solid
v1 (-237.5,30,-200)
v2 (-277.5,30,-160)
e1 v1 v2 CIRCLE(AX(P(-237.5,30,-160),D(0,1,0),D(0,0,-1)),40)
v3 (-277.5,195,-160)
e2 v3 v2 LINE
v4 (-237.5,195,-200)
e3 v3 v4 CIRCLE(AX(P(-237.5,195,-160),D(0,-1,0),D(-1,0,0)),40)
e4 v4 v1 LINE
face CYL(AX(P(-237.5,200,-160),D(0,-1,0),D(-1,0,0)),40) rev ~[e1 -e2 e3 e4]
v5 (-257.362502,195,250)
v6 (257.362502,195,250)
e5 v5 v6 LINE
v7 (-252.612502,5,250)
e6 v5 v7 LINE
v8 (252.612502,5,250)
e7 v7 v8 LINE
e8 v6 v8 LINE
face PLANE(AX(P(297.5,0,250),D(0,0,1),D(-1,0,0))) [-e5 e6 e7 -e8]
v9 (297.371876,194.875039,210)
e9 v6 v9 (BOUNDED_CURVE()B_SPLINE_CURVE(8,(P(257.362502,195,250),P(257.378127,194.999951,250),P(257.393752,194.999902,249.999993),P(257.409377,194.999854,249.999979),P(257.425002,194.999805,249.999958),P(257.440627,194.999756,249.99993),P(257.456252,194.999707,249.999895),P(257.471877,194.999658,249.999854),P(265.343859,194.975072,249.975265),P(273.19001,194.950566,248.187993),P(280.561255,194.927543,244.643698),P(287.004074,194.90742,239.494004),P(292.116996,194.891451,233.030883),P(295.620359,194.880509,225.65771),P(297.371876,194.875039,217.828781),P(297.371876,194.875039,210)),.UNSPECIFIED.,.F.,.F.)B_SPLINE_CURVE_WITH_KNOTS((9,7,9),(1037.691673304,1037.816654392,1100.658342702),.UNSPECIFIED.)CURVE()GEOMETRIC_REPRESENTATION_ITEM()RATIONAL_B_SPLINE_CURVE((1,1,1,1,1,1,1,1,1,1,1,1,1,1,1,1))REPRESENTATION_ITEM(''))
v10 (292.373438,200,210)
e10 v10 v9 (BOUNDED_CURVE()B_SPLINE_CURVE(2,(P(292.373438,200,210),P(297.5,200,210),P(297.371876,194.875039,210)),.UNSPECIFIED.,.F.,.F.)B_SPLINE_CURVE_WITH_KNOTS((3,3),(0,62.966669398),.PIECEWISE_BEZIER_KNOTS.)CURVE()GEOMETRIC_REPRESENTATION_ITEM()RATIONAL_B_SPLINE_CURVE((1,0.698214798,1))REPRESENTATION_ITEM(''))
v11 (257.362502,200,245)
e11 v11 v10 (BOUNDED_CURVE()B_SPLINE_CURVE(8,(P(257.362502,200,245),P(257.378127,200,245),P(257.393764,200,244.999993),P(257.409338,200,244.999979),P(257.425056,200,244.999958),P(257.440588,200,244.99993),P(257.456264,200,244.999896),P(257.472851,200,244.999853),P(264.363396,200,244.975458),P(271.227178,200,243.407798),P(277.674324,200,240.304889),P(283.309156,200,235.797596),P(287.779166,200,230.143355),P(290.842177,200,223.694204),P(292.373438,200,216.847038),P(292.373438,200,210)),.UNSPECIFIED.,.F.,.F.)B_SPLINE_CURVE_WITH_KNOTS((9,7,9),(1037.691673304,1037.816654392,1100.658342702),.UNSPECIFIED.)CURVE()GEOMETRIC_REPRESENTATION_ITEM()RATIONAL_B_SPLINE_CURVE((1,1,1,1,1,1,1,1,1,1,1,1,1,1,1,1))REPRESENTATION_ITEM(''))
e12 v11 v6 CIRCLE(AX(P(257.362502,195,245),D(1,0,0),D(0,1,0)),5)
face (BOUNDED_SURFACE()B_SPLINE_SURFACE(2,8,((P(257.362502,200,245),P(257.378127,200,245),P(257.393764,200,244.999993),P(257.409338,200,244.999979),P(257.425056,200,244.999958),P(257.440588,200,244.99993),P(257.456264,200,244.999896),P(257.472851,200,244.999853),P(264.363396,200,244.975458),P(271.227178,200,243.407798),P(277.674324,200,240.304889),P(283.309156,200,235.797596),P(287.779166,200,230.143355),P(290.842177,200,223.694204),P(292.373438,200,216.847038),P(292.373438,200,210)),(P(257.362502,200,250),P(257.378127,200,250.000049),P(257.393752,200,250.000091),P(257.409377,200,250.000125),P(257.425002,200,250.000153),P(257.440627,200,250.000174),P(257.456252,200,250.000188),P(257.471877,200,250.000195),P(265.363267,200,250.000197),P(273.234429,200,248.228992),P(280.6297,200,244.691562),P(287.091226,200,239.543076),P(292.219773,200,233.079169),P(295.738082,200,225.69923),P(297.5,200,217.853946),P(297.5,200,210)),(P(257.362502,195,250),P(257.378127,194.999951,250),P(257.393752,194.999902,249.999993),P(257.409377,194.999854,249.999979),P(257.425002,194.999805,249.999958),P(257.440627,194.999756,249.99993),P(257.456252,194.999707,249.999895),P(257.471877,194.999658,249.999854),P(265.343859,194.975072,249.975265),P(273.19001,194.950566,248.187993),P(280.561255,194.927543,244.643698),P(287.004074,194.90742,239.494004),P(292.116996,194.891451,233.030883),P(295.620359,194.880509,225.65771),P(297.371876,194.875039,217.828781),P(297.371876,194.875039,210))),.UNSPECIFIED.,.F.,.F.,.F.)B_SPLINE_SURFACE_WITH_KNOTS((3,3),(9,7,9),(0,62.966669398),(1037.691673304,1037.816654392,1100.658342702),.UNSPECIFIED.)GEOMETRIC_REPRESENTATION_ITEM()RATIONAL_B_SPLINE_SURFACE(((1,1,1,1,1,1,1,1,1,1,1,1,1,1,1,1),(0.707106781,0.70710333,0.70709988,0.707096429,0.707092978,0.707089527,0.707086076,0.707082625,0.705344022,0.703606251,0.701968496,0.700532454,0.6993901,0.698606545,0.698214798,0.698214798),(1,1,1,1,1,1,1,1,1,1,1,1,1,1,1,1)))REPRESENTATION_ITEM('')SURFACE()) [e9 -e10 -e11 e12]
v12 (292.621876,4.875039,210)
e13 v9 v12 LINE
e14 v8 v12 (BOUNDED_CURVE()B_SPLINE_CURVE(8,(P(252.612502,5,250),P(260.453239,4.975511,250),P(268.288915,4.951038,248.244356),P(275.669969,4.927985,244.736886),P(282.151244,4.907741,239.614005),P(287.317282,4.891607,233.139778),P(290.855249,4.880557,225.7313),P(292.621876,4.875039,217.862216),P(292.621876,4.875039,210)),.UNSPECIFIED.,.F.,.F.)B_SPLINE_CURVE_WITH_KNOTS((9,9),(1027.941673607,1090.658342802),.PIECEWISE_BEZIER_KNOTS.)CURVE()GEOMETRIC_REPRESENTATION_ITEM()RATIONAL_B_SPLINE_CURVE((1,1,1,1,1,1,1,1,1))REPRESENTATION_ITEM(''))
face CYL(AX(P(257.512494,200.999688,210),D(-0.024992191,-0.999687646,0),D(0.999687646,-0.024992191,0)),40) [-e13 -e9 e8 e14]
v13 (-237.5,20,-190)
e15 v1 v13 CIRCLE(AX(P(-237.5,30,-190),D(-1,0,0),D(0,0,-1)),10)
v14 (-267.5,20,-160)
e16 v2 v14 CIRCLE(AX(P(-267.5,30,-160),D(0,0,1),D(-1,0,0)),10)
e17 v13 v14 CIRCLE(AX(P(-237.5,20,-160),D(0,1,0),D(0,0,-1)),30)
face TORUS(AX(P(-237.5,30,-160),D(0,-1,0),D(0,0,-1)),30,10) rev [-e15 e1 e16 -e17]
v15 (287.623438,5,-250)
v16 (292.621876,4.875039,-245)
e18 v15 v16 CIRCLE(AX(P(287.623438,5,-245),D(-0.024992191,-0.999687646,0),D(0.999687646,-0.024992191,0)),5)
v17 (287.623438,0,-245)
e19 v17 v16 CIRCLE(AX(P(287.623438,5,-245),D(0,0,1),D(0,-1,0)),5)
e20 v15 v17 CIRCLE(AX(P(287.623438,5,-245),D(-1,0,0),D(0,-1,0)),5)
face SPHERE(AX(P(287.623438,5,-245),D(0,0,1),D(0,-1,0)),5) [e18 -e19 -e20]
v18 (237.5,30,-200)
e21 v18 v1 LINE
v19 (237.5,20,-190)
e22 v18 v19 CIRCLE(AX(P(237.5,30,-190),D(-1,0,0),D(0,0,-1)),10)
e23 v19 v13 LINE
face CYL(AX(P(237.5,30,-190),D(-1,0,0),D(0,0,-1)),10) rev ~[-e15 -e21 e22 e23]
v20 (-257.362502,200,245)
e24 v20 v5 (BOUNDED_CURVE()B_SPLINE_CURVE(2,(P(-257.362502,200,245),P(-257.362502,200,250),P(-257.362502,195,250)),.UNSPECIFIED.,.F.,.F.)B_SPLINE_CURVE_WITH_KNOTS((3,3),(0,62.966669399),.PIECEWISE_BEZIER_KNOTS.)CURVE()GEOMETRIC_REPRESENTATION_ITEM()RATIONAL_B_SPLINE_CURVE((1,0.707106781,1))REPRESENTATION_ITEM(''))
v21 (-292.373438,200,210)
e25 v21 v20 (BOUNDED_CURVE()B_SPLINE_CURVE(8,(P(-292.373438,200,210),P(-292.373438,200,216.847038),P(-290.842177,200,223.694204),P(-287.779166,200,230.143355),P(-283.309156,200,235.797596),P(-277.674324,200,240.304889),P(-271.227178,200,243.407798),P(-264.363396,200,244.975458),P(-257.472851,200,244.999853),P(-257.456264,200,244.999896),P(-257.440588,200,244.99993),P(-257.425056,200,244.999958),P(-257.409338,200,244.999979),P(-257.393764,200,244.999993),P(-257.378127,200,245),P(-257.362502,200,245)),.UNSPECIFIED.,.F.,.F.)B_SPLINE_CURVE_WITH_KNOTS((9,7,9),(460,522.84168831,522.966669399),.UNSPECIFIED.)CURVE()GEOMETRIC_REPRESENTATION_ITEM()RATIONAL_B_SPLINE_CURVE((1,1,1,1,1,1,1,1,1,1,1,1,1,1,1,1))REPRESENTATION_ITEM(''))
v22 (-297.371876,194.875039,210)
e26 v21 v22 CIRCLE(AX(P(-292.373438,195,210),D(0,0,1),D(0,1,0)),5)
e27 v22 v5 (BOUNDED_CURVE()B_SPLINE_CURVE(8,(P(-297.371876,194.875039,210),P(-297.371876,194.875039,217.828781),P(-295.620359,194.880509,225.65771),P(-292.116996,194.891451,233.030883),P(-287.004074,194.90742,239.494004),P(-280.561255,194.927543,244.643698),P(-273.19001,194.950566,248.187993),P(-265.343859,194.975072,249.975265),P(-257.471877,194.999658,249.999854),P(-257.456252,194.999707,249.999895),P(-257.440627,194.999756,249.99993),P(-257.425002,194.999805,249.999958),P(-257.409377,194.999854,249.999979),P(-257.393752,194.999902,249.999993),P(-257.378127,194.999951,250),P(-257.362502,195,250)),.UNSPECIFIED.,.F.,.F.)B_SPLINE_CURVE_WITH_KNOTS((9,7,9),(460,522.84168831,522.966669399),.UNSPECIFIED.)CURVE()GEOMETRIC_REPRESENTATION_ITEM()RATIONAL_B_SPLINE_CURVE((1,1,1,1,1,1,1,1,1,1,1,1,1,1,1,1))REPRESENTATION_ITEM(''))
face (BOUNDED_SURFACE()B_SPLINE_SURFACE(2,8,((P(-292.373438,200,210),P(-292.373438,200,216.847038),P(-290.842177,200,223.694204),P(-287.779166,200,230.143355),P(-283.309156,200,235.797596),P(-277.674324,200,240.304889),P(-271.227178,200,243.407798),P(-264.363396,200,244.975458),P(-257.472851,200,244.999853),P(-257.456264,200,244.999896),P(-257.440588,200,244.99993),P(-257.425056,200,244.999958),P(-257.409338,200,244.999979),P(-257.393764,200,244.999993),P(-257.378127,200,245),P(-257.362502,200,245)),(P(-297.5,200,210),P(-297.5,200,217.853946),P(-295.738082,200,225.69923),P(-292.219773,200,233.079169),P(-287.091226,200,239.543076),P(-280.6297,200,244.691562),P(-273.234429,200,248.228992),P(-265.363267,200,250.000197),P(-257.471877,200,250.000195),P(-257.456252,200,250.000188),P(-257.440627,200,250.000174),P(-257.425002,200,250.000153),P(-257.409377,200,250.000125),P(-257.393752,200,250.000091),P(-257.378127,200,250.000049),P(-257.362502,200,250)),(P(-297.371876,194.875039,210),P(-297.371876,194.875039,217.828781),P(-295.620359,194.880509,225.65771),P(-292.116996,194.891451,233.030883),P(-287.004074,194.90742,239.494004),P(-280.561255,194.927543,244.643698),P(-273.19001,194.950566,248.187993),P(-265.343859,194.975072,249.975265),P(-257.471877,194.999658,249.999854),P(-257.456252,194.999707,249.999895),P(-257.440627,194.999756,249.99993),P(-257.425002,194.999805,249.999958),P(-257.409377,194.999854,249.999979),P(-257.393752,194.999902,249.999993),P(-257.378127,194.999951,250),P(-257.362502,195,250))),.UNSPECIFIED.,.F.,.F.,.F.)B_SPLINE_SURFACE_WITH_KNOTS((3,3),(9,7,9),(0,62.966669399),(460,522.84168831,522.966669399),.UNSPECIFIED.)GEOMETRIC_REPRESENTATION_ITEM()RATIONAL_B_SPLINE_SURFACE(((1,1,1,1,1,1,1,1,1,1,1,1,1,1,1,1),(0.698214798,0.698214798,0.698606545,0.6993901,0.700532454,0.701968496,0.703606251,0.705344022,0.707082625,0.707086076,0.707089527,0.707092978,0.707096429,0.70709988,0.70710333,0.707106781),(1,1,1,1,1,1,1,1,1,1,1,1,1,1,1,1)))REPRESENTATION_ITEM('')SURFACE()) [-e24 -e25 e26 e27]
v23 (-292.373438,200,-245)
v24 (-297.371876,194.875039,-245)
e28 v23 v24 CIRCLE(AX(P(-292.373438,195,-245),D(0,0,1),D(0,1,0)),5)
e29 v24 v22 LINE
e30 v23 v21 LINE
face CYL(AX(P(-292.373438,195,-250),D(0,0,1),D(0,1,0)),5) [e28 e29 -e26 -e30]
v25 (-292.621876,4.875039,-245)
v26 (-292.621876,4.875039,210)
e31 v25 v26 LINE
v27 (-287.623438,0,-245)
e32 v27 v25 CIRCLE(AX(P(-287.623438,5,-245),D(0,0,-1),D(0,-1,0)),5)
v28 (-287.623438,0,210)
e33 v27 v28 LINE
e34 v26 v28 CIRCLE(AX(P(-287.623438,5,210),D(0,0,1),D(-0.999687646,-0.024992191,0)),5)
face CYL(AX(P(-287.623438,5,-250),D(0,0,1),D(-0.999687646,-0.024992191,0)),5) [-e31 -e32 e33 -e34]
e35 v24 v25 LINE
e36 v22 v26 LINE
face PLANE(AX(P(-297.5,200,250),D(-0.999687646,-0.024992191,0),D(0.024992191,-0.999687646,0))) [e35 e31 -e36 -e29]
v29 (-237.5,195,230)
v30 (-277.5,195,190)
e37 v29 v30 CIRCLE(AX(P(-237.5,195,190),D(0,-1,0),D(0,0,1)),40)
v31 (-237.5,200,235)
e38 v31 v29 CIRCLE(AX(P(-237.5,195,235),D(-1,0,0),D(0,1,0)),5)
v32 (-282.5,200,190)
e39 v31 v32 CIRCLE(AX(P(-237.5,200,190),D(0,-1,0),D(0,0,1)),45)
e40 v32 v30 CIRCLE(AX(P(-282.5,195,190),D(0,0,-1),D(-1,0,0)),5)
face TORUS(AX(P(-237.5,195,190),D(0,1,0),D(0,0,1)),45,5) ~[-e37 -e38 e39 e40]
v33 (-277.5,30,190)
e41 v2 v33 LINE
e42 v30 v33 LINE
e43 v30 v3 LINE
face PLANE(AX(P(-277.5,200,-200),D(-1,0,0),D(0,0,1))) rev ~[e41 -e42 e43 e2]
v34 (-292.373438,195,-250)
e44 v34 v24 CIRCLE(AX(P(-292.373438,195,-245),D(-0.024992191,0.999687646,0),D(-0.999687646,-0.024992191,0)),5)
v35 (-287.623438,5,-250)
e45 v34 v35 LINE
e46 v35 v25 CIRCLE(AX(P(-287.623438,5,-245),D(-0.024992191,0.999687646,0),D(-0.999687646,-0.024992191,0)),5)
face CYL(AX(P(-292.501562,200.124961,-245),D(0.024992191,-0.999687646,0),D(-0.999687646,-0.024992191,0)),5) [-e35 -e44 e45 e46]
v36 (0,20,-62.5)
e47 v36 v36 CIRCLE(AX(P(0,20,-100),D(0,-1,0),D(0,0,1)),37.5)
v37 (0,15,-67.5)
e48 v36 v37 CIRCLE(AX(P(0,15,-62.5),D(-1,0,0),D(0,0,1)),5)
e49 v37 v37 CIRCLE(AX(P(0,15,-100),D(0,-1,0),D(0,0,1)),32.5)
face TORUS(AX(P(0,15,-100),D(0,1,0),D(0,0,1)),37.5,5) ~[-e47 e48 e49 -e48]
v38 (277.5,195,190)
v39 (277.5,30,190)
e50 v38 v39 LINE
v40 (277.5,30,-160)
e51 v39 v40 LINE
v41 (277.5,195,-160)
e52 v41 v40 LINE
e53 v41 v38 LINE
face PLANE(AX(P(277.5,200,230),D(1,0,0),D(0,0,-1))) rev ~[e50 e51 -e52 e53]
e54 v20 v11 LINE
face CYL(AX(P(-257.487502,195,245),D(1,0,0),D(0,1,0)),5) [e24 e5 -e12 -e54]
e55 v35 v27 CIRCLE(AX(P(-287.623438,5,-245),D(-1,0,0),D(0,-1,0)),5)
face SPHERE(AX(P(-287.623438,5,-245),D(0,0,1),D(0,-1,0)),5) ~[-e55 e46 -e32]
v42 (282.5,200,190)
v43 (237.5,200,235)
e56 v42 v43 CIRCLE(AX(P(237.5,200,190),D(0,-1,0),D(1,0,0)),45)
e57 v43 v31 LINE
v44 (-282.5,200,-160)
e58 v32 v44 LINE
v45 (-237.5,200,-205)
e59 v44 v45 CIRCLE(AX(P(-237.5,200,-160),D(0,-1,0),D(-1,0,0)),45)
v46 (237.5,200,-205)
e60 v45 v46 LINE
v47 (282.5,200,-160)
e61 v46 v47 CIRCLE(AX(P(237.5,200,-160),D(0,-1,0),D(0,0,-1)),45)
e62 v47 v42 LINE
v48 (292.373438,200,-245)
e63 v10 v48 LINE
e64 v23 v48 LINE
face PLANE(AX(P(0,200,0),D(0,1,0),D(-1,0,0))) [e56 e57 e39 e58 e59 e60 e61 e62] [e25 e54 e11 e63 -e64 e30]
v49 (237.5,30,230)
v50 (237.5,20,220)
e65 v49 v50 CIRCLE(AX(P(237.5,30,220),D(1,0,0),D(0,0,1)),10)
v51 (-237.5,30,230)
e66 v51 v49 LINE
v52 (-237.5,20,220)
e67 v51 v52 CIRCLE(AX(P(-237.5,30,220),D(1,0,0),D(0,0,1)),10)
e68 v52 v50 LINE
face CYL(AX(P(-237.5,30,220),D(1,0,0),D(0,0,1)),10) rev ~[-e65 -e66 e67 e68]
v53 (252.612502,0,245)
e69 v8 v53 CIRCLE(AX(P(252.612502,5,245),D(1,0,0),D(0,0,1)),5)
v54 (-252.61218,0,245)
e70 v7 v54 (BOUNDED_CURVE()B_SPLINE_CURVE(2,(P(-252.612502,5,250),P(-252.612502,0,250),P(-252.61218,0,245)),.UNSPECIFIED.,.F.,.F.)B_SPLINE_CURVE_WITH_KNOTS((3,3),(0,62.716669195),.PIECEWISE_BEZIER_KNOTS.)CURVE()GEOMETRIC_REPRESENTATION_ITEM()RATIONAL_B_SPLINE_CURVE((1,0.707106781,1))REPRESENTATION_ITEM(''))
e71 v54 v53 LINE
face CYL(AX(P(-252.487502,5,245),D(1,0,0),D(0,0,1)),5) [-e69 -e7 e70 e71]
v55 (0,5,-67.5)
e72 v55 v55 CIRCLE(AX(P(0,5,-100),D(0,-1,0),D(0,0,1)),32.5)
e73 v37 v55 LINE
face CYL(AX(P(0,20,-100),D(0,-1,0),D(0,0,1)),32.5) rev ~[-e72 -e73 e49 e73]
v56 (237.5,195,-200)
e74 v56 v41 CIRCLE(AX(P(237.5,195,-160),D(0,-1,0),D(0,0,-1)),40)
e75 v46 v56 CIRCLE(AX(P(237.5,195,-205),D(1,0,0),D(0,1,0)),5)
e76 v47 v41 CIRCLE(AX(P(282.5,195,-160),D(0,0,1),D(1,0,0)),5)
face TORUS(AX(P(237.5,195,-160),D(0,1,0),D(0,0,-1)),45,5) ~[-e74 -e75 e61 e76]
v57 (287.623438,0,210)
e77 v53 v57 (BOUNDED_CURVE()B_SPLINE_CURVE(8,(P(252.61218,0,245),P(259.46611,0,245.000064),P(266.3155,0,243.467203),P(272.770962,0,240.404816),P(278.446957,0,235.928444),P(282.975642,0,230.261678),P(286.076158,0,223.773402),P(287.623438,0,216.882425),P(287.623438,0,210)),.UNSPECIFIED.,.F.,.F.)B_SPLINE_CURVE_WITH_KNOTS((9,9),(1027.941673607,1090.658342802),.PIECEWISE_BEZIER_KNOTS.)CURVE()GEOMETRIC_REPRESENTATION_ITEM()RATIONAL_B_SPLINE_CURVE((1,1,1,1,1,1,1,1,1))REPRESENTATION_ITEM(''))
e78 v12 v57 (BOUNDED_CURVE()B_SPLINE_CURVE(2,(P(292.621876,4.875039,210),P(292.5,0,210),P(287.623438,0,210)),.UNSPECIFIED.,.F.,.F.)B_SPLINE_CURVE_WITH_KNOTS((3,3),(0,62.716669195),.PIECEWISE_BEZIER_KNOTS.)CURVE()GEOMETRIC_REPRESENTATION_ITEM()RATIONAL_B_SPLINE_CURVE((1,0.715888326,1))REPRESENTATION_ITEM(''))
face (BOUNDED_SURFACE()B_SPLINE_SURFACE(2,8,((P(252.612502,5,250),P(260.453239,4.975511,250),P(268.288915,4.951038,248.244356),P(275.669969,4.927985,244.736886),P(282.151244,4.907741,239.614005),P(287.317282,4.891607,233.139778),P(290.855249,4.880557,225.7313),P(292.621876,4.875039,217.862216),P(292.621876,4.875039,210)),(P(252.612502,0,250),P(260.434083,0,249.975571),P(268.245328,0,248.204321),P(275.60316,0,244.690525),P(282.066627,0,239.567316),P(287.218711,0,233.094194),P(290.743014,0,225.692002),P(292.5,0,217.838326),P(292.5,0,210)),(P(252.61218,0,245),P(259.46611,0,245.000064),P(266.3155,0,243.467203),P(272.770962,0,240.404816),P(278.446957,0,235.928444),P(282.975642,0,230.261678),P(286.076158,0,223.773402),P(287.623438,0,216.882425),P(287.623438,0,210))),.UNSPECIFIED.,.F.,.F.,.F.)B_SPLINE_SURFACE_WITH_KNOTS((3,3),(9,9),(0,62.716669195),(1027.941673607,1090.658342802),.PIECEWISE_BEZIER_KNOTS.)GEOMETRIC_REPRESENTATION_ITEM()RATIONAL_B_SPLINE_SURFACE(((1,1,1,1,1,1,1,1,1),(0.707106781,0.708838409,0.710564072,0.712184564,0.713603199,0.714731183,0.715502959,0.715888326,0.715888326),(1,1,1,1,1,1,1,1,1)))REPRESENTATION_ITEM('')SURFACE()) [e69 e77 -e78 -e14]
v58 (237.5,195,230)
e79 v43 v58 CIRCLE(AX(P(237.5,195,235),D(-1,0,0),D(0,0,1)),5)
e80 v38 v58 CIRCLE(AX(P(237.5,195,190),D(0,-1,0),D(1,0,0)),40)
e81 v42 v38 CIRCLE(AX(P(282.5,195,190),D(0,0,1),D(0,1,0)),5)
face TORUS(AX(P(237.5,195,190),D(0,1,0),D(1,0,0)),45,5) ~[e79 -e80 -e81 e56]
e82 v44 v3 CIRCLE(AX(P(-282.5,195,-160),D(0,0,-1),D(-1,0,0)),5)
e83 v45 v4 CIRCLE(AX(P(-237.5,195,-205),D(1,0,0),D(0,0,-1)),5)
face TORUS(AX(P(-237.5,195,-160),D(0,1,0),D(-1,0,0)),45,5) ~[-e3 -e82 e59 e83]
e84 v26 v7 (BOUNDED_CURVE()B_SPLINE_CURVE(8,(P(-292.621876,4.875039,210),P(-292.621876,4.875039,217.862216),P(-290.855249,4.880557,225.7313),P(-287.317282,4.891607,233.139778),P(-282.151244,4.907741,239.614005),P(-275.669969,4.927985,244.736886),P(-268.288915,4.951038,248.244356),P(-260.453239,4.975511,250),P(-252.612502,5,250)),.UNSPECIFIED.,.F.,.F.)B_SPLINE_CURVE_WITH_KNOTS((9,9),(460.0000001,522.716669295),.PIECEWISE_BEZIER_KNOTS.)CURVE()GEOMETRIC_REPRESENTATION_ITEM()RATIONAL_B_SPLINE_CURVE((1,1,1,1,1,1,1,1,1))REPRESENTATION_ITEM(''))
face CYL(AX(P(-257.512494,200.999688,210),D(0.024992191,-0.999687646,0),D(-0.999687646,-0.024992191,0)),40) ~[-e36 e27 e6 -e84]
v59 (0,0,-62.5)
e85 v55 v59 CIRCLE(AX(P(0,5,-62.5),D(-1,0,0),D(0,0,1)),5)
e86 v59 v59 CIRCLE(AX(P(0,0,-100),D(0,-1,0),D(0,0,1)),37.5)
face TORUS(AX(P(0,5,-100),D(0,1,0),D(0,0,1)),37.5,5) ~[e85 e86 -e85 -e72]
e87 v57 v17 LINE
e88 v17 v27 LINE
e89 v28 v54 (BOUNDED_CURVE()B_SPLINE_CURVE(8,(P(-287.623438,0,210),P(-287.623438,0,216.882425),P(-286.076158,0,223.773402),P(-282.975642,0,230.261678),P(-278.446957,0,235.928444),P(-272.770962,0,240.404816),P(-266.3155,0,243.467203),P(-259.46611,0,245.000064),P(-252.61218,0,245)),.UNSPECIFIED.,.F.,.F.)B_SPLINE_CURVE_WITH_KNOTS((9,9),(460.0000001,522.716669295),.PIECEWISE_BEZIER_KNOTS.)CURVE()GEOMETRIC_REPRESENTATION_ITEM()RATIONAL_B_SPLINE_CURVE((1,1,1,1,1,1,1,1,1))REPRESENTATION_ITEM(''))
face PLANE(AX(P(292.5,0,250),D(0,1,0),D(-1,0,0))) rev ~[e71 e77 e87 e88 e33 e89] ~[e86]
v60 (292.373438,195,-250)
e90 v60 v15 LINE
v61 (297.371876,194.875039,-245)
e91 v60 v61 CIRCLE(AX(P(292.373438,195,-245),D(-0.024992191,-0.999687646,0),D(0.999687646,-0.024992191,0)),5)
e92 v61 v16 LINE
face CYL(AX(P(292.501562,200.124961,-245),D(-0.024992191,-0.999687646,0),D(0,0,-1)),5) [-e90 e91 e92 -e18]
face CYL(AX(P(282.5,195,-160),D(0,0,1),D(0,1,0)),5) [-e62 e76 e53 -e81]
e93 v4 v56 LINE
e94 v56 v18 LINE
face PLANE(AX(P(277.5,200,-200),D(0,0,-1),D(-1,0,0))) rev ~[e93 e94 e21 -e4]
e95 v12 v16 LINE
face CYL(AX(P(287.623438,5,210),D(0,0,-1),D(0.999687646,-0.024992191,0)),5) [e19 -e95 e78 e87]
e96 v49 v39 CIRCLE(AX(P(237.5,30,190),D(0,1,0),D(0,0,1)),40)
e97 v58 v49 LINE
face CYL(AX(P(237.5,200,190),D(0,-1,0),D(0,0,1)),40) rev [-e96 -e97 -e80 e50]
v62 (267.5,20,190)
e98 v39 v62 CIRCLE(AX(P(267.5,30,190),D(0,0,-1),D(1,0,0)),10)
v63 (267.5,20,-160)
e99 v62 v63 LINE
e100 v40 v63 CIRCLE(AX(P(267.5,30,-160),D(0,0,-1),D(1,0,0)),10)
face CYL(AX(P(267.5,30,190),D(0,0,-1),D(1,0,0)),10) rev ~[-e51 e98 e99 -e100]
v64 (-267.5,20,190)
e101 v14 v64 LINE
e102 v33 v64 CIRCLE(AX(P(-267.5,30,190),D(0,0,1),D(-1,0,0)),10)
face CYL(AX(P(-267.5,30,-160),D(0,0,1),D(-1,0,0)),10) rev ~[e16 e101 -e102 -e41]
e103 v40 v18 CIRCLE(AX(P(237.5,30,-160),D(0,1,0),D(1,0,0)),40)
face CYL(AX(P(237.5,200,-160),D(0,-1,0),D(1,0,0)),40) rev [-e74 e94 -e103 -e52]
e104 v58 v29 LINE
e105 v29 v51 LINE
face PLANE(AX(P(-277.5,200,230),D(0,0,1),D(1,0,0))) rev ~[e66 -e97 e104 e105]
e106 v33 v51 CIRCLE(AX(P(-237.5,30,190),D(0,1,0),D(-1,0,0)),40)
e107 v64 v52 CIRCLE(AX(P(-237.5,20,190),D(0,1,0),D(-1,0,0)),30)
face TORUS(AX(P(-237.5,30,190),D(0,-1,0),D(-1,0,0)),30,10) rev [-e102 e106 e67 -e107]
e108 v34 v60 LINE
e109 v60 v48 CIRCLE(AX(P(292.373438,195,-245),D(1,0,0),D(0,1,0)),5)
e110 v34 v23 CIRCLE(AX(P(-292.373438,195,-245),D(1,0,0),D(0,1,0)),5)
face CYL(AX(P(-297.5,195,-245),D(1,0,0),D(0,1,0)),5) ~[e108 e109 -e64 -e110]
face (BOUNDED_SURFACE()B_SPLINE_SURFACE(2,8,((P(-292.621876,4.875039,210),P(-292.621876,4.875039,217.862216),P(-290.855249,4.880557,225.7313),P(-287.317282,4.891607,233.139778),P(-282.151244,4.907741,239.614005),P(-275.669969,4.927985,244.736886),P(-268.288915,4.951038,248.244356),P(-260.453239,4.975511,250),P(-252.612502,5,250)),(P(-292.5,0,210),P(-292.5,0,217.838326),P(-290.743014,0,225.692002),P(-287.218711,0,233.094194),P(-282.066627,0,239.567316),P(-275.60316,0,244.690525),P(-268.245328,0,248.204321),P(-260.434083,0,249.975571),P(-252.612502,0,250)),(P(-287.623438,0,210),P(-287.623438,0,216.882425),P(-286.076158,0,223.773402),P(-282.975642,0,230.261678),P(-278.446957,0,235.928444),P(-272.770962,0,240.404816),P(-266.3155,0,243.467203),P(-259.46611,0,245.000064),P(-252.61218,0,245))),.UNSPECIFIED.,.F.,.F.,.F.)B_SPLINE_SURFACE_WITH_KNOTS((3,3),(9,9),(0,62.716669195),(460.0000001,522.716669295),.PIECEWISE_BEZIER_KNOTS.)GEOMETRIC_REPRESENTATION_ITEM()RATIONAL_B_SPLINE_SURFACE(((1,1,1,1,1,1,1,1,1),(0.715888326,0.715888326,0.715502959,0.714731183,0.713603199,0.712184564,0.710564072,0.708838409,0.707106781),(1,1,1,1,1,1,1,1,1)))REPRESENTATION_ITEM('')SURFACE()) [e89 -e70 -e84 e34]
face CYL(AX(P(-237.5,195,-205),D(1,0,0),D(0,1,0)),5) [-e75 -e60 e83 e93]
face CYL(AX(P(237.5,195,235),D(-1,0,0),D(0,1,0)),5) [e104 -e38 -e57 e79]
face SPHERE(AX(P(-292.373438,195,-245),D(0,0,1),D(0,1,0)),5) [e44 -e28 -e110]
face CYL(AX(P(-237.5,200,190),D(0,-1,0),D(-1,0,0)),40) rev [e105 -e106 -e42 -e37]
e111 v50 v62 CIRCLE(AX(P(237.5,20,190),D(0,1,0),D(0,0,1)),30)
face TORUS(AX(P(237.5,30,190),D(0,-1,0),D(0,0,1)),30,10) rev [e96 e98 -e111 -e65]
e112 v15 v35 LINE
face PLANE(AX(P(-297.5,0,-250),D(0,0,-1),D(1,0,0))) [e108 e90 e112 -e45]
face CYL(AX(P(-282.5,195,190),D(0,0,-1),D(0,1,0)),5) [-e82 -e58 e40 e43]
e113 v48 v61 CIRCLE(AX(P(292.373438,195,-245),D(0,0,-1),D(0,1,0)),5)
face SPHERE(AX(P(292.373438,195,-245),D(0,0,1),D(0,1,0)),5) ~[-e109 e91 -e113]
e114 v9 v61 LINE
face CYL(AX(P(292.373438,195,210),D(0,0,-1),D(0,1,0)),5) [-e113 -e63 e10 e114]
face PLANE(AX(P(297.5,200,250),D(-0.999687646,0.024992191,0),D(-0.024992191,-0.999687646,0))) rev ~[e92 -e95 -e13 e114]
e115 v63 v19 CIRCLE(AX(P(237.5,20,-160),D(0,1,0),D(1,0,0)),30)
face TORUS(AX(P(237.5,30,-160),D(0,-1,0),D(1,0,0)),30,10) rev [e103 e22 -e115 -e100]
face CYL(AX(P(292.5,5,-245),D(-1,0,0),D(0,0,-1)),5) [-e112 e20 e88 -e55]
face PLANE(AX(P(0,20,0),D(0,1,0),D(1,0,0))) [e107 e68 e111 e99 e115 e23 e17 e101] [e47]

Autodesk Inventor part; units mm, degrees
ref_plane "YZ Plane" through (0, 0, 0) normal (1, 0, 0) x (0, 1, 0)
ref_plane "XZ Plane" through (0, 0, 0) normal (0, 1, 0) x (-1, 0, 0)
ref_plane "XY Plane" through (0, 0, 0) normal (0, 0, 1) x (1, 0, 0)
sketch "Sketch1" plane through (0, 0, 0) normal (0, 1, 0) x (-1, 0, 0)
  line L0 (297.5, -250) -> (-297.5, -250)
  line L1 (-297.5, -250) -> (-297.5, 250)
  line L2 (-297.5, 250) -> (297.5, 250)
  line L3 (297.5, 250) -> (297.5, -250)
  line L4 (297.5, -250) -> (-297.5, 250) construction
  line L5 (-297.5, -250) -> (297.5, 250) construction
  point P0 (0, 0)
  point P1 (0, 0)
  dimension "d0" = 595
  dimension "d1" = 500
extrude "Extrusion1" add sketch "Sketch1" along normal blind 200
sketch "Sketch2" plane through (0, 200, 0) normal (0, 1, 0) x (1, 0, 0)
  line L0 (-277.5, -230) -> (277.5, -230)
  line L1 (277.5, -230) -> (277.5, 200)
  line L2 (277.5, 200) -> (-277.5, 200)
  line L3 (-277.5, 200) -> (-277.5, -230)
  line L4 (-277.5, -230) -> (-297.5, -230) construction
  line L5 (277.5, -230) -> (297.5, -230) construction
  line L6 (277.5, -230) -> (277.5, -250) construction
  line L7 (-297.5, -250) -> (297.5, -250) projected
  line L8 (297.5, -250) -> (297.5, 250) projected
  point P0 (0, 0)
  dimension "d4" = 555
  dimension "d5" = 430
  dimension "d12" = 20
  dimension "d13" = 595
  dimension "d14" = 20
extrude "Extrusion2" cut sketch "Sketch2" against normal blind 180
sketch "Sketch3" plane through (-297.5, 0, 250) normal (0, 0, 1) x (1, 0, 0)
  line L0 (595, 0) -> (0, 0) projected
  line L1 (595, 0) -> (595, 200) projected
  line L2 (0, 200) -> (595, 200) projected
  line L3 (0, 0) -> (0, 200) projected
  line L4 (595, 200) -> (0, 200) projected
  line L5 (0, 200) -> (5, 0)
  line L6 (0, 0) -> (595, 0) projected
  line L7 (595, 200) -> (590, 0)
  line L8 (590, 0) -> (5, 0)
  line L9 (0, 200) -> (595, 200)
  point P0 (297.5, 0)
  dimension "d8" = 585
extrude "Extrusion3" cut sketch "Sketch3" against normal through all contours L0 L5 L2 L7 keep common part
fillet "Fillet1" radius 40 6 edges at (-277.5, 110, -200) (277.5, 110, -200) (295, 100, 250) (277.5, 110, 230) (-295, 100, 250) (-277.5, 110, 230)
fillet "Fillet2" radius 5 22 edges at (-265.7843, 200, -188.2843) (0, 200, -200) (265.7843, 200, -188.2843) (277.5, 200, 15) (265.7843, 200, 218.2843) (0, 200, 230) (-265.7843, 200, 218.2843) (-277.5, 200, 15) (-285.7806, 200, 238.2843) (0, 200, 250) (285.7806, 200, 238.2843) (297.5, 200, -20) (-297.5, 200, -20) (0, 200, -250) (295, 100, -250) (-295, 100, -250) (-280.7806, 0, 238.2843) (-292.5, 0, -20) (280.7806, 0, 238.2843) (292.5, 0, -20) (0, 0, 250) (0, 0, -250)
fillet "Fillet3" radius 10 8 edges at (-277.5, 20, 15) (-265.7843, 20, 218.2843) (0, 20, 230) (265.7843, 20, 218.2843) (277.5, 20, 15) (265.7843, 20, -188.2843) (0, 20, -200) (-265.7843, 20, -188.2843)
sketch "Sketch4" plane through (0, 20, 0) normal (0, 1, 0) x (1, 0, 0)
  line L0 (-297.3719, 245) -> (-297.3719, -210) projected
  line L1 (292.3734, 250) -> (-292.3734, 250) projected
  line L2 (297.3719, -210) -> (297.3719, 245) projected
  line L3 (267.5, 160) -> (267.5, -190) projected
  line L4 (-267.5, -190) -> (-267.5, 160) projected
  point P0 (0, 0)
  point P1 (0, 100)
  dimension "d18" = 150
  dimension "d27" = 535
  dimension "d28" = 267.5
hole "Hole1" at (0, 20, -100) direction (0, -1, 0) diameter 65 end through all
fillet "Fillet4" radius 5 2 edges at (0, 20, -132.5) (0, 0, -132.5)
equation "\"d12\" = -0.5 * d4 + 0.5 * d13"
equation "\"d14\" = d12"
equation "\"d28\" = 0.5 * d27"
properties part number "Sink 63220001" material "Concrete"
